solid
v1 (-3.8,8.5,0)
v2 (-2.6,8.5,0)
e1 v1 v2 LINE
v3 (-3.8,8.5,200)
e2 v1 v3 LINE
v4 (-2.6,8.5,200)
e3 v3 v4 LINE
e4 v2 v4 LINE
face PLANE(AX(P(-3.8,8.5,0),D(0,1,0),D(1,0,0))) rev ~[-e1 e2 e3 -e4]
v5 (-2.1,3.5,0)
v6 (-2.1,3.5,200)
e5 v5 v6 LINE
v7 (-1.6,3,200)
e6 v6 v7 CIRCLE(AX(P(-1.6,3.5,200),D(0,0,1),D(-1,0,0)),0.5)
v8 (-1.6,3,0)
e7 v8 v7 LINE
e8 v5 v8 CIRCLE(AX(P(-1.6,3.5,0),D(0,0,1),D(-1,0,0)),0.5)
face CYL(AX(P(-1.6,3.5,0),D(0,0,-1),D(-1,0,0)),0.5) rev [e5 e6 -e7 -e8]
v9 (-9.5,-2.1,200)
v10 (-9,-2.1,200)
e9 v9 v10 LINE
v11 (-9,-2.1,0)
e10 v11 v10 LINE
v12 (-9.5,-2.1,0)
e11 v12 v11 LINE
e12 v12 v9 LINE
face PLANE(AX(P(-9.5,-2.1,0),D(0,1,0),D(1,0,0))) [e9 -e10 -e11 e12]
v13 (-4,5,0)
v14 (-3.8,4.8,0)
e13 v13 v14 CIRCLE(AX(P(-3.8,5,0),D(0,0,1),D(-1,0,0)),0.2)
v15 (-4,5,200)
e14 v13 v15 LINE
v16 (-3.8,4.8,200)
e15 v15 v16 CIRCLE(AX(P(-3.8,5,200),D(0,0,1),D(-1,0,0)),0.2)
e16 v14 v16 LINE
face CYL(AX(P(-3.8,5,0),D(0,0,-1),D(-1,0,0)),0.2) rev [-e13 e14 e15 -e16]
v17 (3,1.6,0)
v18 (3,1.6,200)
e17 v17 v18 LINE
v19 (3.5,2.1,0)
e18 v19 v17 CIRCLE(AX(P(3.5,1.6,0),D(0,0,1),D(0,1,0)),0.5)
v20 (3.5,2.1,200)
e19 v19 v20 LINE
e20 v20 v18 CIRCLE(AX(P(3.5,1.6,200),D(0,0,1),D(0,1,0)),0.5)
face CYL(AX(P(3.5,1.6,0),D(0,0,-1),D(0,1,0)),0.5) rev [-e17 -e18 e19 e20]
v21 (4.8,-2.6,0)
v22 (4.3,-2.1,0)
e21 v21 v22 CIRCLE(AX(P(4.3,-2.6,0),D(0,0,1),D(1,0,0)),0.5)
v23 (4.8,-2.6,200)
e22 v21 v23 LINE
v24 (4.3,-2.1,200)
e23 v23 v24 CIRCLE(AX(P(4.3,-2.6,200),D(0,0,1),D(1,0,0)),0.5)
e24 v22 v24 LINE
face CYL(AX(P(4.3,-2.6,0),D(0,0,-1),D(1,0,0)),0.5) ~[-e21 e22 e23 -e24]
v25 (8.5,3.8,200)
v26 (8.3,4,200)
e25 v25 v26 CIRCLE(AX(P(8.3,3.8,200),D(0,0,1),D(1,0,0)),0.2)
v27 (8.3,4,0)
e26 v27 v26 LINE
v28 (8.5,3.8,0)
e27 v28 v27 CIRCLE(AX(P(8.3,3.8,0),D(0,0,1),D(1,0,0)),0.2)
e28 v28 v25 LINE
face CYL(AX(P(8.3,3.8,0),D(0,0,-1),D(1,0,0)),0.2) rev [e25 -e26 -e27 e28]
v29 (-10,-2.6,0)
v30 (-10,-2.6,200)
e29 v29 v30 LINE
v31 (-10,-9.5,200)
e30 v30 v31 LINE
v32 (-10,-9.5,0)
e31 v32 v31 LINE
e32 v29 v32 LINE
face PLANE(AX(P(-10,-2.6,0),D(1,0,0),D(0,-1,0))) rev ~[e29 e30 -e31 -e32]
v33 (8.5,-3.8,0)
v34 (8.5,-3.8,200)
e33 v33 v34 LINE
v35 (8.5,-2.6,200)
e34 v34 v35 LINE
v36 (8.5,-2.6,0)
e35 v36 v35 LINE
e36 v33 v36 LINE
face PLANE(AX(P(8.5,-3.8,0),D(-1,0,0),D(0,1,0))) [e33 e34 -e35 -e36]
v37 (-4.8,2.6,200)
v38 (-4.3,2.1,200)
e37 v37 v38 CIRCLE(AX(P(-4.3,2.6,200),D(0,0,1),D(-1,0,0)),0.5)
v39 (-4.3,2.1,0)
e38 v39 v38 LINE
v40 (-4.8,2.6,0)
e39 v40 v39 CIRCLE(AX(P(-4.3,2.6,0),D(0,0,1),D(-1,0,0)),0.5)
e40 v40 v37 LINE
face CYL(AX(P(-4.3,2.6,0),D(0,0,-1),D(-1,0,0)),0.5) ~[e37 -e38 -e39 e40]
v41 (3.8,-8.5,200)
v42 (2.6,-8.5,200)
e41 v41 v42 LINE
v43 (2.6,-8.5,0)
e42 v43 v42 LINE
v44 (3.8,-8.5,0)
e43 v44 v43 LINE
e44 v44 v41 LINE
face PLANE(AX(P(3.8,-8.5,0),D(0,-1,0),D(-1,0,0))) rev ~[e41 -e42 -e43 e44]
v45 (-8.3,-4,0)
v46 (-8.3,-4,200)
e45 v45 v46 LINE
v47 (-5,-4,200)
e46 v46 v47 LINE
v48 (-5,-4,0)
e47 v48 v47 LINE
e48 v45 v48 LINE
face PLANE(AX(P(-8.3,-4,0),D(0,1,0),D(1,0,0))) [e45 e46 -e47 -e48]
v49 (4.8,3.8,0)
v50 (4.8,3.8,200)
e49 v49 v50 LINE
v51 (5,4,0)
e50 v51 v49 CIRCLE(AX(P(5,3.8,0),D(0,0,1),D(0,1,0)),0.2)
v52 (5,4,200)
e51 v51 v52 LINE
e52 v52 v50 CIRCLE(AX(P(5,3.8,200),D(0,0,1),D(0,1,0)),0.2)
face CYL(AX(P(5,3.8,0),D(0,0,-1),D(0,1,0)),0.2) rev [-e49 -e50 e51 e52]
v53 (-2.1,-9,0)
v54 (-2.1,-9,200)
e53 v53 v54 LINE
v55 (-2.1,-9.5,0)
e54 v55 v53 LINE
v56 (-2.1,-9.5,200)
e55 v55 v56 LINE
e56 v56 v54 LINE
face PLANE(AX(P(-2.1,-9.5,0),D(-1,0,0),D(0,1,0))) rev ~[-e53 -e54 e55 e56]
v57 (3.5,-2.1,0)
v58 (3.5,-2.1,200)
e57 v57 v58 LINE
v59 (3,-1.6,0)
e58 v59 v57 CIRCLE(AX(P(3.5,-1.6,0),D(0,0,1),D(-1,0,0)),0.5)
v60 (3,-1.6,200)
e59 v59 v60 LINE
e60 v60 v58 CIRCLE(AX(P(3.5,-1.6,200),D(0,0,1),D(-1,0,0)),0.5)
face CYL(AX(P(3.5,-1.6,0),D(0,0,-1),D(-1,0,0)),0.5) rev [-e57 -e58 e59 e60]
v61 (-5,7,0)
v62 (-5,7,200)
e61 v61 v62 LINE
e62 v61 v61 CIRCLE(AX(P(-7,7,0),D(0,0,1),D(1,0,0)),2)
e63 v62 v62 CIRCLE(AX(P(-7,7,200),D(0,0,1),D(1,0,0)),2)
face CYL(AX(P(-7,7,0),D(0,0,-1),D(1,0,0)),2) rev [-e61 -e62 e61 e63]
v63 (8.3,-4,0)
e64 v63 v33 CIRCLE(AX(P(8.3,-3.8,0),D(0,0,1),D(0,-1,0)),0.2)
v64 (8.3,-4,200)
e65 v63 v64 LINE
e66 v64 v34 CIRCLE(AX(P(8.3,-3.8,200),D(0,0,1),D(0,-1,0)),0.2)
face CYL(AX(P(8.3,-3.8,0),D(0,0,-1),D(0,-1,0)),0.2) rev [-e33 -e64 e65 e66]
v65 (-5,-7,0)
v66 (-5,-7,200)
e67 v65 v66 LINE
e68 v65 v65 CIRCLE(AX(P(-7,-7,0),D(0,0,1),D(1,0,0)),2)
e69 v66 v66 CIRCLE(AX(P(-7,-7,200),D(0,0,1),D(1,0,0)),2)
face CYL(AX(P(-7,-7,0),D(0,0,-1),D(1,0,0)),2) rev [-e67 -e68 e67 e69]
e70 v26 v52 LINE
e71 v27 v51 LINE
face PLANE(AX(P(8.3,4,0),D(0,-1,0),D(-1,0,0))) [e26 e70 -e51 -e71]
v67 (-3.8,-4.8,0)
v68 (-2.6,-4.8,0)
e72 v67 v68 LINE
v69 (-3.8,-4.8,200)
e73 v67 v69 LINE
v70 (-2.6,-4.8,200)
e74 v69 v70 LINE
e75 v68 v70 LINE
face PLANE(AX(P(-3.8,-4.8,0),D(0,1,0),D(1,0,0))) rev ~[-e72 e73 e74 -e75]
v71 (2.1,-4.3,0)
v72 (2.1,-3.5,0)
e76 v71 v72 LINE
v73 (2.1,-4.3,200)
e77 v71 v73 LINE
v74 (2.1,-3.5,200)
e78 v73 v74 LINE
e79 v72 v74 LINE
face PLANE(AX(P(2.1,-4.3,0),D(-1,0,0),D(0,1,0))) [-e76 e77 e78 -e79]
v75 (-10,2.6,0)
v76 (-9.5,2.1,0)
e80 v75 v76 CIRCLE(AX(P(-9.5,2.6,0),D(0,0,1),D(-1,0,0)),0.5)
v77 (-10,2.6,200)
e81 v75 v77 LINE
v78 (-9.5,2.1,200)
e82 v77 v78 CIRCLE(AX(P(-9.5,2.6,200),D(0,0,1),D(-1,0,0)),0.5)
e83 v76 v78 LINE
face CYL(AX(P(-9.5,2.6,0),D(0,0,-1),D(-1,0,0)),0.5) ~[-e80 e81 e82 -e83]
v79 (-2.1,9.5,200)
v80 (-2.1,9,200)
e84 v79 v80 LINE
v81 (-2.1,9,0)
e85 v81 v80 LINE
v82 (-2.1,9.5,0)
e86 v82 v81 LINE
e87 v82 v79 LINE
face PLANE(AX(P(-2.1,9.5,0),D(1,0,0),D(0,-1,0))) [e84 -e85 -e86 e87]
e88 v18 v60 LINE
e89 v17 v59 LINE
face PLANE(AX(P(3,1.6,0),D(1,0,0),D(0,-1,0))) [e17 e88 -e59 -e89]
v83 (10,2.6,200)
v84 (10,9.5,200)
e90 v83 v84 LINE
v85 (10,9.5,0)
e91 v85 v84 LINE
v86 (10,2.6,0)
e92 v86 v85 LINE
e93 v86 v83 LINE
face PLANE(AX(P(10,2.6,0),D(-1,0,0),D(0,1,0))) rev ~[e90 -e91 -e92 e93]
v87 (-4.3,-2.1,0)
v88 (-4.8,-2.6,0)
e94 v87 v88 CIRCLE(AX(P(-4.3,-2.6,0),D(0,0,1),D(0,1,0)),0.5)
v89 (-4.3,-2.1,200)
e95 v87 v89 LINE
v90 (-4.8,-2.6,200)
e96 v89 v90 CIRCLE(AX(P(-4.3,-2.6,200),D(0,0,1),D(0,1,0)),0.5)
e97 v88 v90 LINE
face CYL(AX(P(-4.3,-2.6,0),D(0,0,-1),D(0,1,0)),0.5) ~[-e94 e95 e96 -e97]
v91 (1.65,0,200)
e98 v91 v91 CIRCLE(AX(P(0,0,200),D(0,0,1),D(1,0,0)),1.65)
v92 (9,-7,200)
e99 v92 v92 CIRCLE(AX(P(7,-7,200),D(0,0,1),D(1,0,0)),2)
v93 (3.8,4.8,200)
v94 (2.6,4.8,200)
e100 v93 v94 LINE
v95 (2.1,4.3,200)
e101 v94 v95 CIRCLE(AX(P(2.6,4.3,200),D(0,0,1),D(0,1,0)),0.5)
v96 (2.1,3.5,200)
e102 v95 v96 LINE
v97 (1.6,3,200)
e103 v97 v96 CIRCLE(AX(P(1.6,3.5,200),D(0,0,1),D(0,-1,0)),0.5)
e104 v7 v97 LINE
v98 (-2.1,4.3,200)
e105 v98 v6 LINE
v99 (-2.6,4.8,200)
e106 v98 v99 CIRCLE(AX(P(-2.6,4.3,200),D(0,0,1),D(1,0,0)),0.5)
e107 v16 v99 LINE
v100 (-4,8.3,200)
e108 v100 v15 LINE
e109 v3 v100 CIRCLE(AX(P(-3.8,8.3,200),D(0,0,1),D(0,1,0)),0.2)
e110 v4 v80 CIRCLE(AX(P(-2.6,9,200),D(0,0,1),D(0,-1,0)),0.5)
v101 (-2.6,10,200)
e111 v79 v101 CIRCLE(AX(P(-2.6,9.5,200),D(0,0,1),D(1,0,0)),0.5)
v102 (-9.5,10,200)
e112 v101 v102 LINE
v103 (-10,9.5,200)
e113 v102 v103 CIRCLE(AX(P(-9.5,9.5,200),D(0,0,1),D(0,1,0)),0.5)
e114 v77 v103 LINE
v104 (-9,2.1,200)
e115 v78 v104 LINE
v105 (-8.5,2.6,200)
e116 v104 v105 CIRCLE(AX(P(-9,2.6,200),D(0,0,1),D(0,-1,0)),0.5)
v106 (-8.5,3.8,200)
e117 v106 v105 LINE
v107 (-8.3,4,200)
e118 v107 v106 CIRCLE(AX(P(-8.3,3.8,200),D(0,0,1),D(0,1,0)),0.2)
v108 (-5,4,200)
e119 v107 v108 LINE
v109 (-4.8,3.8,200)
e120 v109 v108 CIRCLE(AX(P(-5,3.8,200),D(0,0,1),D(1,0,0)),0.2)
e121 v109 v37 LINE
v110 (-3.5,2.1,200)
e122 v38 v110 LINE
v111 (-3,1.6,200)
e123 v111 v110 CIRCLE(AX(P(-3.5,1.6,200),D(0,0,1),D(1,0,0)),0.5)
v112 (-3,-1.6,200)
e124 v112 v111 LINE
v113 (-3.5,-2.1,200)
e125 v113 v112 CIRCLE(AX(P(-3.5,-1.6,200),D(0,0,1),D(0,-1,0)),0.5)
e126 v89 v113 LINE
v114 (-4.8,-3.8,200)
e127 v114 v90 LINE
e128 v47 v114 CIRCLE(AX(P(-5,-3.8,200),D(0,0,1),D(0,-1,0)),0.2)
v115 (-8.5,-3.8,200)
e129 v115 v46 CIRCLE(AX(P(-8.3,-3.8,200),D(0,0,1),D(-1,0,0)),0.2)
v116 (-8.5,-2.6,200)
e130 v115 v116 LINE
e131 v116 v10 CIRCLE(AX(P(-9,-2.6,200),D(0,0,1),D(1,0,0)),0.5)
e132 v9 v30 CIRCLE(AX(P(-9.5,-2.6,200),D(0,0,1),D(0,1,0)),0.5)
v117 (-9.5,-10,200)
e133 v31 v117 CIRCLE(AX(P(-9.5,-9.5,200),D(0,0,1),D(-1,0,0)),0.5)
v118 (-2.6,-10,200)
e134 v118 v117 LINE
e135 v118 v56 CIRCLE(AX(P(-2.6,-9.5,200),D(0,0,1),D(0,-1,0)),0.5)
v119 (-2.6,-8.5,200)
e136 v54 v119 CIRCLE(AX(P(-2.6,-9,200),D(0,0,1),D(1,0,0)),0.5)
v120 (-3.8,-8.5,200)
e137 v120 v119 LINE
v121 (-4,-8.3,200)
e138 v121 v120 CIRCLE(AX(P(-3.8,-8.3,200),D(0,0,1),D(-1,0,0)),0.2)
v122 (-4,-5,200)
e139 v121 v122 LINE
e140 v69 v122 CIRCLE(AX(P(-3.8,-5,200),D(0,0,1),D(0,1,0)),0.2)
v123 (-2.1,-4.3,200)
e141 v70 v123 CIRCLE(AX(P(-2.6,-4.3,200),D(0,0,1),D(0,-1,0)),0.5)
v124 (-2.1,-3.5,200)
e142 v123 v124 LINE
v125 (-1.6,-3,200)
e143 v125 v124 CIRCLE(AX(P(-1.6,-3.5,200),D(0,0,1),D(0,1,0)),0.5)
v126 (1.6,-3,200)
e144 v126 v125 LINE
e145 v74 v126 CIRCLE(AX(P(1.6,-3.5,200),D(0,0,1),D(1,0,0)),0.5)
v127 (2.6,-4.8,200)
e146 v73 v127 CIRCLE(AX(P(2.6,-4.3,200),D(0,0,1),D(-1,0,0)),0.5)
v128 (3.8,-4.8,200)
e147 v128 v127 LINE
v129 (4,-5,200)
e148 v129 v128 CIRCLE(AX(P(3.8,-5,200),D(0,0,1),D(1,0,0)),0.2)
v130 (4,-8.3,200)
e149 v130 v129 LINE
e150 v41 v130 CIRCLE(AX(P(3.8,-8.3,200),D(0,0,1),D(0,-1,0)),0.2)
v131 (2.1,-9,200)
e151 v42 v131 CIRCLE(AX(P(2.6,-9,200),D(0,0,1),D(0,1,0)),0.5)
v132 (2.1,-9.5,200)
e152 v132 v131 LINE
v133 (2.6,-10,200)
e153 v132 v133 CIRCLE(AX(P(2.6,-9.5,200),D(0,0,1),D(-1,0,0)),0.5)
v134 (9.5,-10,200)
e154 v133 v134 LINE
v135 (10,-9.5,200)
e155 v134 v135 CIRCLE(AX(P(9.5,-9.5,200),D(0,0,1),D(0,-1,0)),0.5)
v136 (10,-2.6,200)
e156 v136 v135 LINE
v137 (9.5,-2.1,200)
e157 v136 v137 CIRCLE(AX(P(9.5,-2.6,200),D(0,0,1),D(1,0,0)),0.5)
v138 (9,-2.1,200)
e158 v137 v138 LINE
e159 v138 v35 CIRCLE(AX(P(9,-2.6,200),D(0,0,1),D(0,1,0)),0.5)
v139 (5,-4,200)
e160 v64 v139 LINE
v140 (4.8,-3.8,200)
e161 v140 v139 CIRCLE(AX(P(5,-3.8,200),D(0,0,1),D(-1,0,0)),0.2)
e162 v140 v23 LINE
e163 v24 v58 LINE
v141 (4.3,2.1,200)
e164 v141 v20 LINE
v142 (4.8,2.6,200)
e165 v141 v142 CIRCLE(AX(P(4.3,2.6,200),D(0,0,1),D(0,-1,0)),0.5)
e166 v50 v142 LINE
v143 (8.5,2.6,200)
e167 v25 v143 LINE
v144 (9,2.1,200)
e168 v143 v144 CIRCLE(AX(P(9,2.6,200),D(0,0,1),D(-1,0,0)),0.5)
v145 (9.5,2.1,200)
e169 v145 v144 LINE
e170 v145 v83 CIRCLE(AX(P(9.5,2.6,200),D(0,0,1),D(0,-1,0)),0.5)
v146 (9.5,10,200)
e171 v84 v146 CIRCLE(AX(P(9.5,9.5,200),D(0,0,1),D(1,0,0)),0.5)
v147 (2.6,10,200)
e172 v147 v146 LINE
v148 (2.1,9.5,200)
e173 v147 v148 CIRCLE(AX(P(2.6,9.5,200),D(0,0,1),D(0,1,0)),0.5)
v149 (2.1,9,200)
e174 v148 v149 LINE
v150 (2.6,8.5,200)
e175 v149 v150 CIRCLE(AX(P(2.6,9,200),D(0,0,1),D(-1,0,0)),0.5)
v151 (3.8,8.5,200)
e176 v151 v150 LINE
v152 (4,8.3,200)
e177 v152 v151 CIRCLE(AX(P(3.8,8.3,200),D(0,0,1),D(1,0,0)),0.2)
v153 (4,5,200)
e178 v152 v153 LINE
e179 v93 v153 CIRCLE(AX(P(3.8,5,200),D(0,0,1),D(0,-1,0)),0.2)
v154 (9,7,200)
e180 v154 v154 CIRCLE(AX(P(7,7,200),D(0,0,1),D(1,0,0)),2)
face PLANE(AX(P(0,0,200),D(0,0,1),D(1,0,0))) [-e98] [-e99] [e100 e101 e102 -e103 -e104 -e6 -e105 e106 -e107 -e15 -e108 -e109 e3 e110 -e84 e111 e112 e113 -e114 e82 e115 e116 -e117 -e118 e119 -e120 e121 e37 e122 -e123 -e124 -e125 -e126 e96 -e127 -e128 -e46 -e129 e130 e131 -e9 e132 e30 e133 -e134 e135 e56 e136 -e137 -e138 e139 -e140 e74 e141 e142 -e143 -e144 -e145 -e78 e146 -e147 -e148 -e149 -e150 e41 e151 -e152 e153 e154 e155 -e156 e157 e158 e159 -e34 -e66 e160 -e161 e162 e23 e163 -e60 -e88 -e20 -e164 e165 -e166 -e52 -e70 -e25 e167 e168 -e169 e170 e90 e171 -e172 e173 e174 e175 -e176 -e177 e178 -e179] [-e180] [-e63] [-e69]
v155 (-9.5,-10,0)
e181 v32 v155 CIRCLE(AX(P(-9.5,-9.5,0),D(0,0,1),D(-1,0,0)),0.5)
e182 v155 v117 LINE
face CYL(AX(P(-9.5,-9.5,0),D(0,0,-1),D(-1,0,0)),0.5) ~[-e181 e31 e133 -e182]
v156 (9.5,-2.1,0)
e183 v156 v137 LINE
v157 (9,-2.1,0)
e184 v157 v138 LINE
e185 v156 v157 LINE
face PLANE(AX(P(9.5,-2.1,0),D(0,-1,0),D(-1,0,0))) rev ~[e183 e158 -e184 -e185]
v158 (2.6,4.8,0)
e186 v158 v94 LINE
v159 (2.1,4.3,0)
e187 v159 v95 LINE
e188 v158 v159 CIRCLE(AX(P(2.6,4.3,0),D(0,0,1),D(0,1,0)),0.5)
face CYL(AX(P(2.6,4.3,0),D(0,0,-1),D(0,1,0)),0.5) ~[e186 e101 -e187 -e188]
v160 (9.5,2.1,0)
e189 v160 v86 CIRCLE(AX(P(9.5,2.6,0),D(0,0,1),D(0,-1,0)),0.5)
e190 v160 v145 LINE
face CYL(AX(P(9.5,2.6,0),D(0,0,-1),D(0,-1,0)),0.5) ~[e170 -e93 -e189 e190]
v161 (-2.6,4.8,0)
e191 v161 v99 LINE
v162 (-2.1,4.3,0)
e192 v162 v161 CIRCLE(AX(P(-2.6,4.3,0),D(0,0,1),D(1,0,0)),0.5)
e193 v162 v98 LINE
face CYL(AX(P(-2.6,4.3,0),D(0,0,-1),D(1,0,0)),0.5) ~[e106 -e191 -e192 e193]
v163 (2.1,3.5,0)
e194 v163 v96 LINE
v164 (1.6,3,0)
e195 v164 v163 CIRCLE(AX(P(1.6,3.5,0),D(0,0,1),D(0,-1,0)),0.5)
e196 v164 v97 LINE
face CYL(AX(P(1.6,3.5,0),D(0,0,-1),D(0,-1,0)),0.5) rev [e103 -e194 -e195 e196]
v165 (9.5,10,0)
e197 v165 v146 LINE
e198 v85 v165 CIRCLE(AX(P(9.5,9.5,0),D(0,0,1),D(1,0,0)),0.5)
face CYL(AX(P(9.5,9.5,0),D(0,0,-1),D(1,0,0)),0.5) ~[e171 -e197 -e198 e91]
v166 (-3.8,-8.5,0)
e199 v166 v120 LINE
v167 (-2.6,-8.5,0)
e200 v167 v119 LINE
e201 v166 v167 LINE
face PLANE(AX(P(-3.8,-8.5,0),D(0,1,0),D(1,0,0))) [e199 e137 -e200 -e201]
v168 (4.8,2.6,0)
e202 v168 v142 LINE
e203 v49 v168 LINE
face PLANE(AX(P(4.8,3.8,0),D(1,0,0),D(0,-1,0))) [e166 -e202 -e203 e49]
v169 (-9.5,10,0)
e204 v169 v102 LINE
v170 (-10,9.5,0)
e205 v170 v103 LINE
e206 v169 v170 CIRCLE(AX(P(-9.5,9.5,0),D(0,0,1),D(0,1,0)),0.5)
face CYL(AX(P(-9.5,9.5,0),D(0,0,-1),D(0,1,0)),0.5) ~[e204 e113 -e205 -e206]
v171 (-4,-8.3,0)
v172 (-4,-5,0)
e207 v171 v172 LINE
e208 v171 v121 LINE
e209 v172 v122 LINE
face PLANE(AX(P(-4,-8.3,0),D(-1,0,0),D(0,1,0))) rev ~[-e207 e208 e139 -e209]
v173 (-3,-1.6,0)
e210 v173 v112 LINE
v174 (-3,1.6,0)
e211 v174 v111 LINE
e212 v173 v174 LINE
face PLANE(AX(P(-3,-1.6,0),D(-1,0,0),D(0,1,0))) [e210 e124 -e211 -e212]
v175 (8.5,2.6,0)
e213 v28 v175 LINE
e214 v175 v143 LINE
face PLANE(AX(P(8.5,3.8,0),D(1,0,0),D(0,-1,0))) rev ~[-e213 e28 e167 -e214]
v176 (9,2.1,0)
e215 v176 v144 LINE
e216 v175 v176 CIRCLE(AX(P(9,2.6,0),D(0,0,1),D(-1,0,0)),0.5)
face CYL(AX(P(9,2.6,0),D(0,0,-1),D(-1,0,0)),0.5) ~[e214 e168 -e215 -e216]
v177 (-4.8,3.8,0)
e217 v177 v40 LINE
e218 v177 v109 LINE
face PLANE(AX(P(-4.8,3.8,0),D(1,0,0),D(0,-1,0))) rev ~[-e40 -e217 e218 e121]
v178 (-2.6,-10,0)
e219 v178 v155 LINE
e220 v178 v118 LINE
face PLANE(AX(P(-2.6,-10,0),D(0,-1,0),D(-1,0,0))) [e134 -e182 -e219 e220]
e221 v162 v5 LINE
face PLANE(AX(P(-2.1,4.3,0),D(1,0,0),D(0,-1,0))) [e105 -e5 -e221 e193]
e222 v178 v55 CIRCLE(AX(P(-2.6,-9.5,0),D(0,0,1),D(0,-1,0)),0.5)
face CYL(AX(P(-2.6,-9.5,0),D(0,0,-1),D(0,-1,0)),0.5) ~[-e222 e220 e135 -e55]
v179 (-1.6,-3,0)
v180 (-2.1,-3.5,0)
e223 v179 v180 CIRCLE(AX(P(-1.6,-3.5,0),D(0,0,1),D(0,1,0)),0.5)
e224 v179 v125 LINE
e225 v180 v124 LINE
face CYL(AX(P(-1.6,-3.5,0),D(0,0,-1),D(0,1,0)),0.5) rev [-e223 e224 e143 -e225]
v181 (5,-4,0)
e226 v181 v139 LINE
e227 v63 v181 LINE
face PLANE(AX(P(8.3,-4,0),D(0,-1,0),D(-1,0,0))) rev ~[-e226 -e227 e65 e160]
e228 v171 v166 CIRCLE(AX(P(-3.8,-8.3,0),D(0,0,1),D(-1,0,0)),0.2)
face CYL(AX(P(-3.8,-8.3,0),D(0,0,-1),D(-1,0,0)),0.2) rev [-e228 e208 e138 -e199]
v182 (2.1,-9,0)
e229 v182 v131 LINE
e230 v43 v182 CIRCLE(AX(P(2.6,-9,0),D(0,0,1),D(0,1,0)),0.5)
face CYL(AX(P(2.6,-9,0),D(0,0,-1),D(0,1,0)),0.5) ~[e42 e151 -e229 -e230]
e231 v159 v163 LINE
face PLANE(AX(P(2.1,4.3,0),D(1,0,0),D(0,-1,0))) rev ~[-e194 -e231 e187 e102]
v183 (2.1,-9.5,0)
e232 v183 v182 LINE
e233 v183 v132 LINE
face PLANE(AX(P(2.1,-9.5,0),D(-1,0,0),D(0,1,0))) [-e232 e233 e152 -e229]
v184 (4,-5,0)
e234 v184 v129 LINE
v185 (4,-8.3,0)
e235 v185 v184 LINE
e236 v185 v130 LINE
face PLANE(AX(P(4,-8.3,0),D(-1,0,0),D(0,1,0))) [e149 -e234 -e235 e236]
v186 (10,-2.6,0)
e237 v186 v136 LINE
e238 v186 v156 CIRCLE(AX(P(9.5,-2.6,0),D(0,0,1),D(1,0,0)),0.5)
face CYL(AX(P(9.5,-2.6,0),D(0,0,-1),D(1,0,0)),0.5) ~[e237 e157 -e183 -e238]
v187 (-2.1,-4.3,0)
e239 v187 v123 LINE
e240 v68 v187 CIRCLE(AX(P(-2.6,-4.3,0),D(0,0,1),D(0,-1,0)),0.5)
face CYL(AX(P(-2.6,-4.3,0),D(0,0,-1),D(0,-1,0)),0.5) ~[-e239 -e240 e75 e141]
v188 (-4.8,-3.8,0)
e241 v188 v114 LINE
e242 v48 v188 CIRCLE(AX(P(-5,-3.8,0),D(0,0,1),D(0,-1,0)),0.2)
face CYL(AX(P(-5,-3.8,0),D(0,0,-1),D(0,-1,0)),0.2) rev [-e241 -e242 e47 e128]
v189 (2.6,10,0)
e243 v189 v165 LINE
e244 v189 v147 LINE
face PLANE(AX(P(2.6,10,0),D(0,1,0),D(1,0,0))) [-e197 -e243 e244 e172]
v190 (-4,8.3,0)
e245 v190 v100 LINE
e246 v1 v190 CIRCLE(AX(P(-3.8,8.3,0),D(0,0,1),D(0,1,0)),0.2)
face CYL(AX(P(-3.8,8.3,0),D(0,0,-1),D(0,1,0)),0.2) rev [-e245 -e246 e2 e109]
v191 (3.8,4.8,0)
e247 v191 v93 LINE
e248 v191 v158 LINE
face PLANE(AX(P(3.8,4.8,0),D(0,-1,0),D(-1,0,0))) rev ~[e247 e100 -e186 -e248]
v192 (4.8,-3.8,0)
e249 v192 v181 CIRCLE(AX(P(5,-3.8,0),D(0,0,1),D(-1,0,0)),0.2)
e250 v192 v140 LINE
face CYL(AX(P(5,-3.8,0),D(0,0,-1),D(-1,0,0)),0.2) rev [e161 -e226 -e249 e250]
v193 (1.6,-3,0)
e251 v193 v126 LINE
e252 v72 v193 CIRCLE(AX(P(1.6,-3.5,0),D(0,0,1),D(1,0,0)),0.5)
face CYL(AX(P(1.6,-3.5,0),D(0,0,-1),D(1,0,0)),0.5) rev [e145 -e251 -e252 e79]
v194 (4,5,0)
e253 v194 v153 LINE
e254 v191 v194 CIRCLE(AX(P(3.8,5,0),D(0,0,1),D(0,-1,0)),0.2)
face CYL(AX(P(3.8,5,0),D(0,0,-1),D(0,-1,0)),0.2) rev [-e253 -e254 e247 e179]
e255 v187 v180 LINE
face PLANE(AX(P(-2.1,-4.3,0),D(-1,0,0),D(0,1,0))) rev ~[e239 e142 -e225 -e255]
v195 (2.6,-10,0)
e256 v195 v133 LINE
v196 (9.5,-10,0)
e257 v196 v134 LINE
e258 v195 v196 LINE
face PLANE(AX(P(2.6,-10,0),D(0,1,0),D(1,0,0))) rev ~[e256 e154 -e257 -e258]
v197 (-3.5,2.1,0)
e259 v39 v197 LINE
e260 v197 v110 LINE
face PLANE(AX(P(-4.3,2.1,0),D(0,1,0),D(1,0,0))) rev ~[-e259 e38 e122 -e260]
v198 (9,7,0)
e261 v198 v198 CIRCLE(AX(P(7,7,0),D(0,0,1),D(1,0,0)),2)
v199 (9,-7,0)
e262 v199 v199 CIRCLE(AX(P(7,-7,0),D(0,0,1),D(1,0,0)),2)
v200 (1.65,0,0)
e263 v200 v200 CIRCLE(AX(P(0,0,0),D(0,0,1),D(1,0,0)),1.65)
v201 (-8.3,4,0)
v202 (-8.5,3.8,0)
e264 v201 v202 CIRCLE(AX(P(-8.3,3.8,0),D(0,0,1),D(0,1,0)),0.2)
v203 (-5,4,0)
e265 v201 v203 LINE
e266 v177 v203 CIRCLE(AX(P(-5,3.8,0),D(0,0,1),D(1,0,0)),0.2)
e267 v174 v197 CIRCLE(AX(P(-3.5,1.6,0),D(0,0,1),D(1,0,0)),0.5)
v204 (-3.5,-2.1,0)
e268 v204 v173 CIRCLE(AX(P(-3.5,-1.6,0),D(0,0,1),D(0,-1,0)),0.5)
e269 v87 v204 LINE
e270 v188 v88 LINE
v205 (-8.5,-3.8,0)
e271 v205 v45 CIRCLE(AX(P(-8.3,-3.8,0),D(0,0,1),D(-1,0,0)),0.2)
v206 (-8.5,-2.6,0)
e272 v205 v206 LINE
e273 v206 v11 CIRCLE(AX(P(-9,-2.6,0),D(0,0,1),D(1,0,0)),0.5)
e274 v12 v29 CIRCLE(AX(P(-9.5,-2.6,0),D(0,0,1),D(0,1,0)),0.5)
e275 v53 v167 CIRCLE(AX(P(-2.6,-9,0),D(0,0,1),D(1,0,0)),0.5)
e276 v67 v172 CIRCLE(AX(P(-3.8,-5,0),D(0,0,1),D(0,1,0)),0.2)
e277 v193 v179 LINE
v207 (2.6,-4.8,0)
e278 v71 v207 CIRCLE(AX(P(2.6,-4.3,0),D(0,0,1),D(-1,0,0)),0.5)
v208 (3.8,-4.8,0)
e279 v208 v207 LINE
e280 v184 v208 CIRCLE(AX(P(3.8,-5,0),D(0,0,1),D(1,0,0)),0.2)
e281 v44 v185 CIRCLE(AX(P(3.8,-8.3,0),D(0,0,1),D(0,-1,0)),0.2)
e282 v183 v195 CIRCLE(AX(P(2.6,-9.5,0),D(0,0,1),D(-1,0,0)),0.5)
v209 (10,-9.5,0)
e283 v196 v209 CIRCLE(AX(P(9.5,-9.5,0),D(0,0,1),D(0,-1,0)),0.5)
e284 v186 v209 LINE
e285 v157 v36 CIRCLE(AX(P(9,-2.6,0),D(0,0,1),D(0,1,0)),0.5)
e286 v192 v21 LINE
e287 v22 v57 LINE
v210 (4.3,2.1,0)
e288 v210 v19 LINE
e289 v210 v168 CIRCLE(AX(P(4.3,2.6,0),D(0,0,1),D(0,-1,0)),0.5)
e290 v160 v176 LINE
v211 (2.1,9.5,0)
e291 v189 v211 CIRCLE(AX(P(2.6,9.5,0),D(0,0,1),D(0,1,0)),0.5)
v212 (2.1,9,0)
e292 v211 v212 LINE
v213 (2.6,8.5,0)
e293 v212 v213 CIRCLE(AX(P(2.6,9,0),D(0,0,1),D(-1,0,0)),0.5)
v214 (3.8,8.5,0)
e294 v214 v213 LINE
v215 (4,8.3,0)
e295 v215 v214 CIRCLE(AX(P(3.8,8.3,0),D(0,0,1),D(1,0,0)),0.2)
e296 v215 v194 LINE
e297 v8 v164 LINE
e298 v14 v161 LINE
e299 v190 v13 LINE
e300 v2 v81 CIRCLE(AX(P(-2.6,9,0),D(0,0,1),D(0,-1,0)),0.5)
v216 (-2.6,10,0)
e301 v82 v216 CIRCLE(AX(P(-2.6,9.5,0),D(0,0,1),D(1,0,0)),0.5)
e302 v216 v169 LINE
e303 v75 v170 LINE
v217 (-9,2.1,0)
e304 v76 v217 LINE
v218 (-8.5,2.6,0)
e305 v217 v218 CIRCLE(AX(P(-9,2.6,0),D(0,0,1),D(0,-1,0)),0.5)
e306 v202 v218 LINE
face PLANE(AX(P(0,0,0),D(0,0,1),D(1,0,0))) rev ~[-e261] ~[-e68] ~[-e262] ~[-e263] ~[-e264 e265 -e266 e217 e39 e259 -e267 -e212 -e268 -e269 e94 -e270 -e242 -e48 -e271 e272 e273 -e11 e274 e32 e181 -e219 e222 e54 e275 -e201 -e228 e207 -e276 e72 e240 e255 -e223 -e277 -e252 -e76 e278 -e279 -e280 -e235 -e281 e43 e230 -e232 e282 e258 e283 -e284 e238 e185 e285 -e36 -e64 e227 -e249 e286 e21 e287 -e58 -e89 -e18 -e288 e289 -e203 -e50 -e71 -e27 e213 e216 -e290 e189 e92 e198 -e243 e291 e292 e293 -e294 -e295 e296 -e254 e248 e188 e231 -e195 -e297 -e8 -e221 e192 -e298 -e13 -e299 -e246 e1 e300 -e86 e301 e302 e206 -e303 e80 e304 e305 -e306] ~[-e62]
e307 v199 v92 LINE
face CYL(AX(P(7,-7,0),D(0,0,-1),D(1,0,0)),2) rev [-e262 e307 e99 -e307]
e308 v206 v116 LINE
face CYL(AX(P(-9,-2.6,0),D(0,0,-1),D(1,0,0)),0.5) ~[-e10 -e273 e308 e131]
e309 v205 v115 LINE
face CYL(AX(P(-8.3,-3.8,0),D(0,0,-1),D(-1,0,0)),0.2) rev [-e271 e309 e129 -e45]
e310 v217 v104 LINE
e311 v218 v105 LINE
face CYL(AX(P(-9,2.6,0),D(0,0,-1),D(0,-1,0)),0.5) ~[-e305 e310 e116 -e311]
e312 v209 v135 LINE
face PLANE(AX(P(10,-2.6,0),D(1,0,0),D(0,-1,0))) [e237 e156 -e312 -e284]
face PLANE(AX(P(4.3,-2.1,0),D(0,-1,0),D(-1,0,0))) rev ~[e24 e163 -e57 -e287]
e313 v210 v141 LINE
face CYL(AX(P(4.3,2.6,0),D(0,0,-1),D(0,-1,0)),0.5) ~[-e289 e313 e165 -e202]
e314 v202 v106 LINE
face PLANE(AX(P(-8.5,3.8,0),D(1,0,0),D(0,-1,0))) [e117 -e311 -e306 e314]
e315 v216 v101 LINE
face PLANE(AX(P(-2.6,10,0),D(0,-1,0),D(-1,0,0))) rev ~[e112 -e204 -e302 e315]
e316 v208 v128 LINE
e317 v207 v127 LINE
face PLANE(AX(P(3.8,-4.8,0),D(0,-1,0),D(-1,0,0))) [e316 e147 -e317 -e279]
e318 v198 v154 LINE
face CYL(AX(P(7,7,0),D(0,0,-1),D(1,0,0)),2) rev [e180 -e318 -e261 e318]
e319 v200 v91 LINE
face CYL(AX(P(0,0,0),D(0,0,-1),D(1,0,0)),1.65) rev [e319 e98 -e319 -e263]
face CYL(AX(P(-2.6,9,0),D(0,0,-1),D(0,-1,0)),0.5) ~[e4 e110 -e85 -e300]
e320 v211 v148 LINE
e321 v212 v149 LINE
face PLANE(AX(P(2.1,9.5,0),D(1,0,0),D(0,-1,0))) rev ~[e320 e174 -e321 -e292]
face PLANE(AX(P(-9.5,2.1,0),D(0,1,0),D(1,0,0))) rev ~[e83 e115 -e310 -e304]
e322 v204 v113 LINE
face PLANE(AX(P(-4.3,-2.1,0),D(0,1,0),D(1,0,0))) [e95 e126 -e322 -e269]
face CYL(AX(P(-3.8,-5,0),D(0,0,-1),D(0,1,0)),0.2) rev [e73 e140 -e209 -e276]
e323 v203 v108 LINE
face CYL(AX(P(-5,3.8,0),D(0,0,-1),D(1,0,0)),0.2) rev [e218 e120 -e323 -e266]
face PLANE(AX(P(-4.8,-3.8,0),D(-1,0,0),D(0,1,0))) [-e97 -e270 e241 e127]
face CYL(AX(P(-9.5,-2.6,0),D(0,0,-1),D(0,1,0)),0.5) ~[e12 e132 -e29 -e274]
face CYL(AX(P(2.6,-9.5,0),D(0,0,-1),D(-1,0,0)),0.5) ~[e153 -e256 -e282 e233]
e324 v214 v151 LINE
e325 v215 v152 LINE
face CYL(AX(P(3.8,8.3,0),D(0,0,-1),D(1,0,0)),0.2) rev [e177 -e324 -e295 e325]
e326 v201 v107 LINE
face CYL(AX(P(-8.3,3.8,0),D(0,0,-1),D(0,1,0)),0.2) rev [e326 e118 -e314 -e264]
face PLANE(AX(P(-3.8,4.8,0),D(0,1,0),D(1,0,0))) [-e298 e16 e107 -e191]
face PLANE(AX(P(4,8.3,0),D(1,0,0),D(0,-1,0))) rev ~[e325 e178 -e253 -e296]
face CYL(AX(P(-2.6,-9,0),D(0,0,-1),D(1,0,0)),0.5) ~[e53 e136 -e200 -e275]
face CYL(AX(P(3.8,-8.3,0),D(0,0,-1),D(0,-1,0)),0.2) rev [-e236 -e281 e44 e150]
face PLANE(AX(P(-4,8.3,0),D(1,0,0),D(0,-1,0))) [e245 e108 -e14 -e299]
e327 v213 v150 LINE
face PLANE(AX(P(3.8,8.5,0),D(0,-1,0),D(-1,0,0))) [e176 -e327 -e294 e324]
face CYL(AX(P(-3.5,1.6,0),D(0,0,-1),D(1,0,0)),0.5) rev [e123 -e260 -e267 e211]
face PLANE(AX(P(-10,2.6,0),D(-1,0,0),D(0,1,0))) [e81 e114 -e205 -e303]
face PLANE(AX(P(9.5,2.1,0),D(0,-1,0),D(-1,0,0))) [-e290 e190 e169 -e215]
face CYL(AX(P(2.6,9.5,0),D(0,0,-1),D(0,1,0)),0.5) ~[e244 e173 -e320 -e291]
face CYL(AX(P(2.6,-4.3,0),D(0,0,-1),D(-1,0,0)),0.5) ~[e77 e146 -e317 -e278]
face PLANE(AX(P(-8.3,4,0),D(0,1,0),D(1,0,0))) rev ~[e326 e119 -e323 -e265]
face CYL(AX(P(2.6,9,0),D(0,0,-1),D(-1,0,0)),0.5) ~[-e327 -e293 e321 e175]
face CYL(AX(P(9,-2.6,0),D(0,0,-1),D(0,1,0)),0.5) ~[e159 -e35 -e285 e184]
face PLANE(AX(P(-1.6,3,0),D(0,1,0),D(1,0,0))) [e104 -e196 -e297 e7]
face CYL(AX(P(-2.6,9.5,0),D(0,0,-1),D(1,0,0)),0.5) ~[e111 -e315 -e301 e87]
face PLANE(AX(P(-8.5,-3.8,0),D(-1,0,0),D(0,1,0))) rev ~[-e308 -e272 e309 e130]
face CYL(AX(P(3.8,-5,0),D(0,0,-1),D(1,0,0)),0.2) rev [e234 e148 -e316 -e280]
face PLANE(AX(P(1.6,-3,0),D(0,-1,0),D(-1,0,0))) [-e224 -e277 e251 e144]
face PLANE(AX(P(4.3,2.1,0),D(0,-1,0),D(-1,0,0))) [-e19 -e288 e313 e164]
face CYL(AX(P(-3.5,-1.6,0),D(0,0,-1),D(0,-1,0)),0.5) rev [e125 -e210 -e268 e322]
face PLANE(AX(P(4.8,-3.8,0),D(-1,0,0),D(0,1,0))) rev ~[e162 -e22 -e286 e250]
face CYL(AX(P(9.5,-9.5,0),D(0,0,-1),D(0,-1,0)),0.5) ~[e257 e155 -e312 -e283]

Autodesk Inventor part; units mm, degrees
ref_plane "YZ Plane" through (0, 0, 0) normal (1, 0, 0) x (0, 1, 0)
ref_plane "XZ Plane" through (0, 0, 0) normal (0, 1, 0) x (-1, 0, 0)
ref_plane "XY Plane" through (0, 0, 0) normal (0, 0, 1) x (1, 0, 0)
sketch "BaseS" plane through (0, 0, 0) normal (0, 0, 1) x (1, 0, 0)
  line L0 (8.5, -3.8) -> (8.5, -2.6)
  line L1 (4, -8.3) -> (4, -5)
  circle A0 centre (7, -7) radius 2
  line L2 (10, -2.6) -> (10, -9.5)
  line L3 (2.6, -10) -> (9.5, -10)
  line L4 (2.1, -9.5) -> (2.1, -9)
  line L5 (8.5, -2.6) -> (8.5, -3.8)
  line L6 (3.8, -4.8) -> (2.6, -4.8)
  line L7 (4.8, -3.8) -> (4.8, -2.6)
  arc A1 (2.1, -4.3) -> (2.6, -4.8) centre (2.6, -4.3) ccw
  arc A2 (2.6, -8.5) -> (2.1, -9) centre (2.6, -9) ccw
  arc A3 (3.8, -8.5) -> (4, -8.3) centre (3.8, -8.3) ccw
  arc A4 (4, -5) -> (3.8, -4.8) centre (3.8, -5) ccw
  arc A5 (2.1, -3.5) -> (1.6, -3) centre (1.6, -3.5) ccw
  arc A6 (2.1, -9.5) -> (2.6, -10) centre (2.6, -9.5) ccw
  arc A7 (9.5, -10) -> (10, -9.5) centre (9.5, -9.5) ccw
  arc A8 (10, -2.6) -> (9.5, -2.1) centre (9.5, -2.6) ccw
  arc A9 (9, -2.1) -> (8.5, -2.6) centre (9, -2.6) ccw
  arc A10 (8.3, -4) -> (8.5, -3.8) centre (8.3, -3.8) ccw
  arc A11 (4.8, -3.8) -> (5, -4) centre (5, -3.8) ccw
  line L8 (4.3, -2.1) -> (3.5, -2.1)
  arc A12 (4.8, -2.6) -> (4.3, -2.1) centre (4.3, -2.6) ccw
  arc A13 (3, -1.6) -> (3.5, -2.1) centre (3.5, -1.6) ccw
  line L9 (2.1, -4.3) -> (2.1, -3.5)
  line L10 (3.8, -8.5) -> (2.6, -8.5)
  line L11 (9.5, -2.1) -> (9, -2.1)
  line L12 (8.3, -4) -> (5, -4)
  circle A14 centre (0, 0) radius 1.65
  arc A15 (8.5, 2.6) -> (9, 2.1) centre (9, 2.6) ccw
  line L13 (8.5, 3.8) -> (8.5, 2.6)
  arc A16 (8.5, 3.8) -> (8.3, 4) centre (8.3, 3.8) ccw
  line L14 (8.3, 4) -> (5, 4)
  line L15 (10, 2.6) -> (10, 9.5)
  arc A17 (10, 9.5) -> (9.5, 10) centre (9.5, 9.5) ccw
  circle A18 centre (7, 7) radius 2
  line L16 (4, 8.3) -> (4, 5)
  line L17 (2.6, 10) -> (9.5, 10)
  line L18 (9.5, 2.1) -> (9, 2.1)
  arc A19 (9.5, 2.1) -> (10, 2.6) centre (9.5, 2.6) ccw
  line L19 (3.8, 8.5) -> (2.6, 8.5)
  line L20 (4.8, 3.8) -> (4.8, 2.6)
  arc A20 (4.3, 2.1) -> (4.8, 2.6) centre (4.3, 2.6) ccw
  line L21 (2.6, 8.5) -> (3.8, 8.5)
  arc A21 (4, 8.3) -> (3.8, 8.5) centre (3.8, 8.3) ccw
  arc A22 (2.1, 9) -> (2.6, 8.5) centre (2.6, 9) ccw
  arc A23 (2.6, 10) -> (2.1, 9.5) centre (2.6, 9.5) ccw
  line L22 (2.1, 9.5) -> (2.1, 9)
  arc A24 (1.6, 3) -> (2.1, 3.5) centre (1.6, 3.5) ccw
  line L23 (3.8, 4.8) -> (2.6, 4.8)
  arc A25 (5, 4) -> (4.8, 3.8) centre (5, 3.8) ccw
  arc A26 (3.8, 4.8) -> (4, 5) centre (3.8, 5) ccw
  line L24 (4.3, 2.1) -> (3.5, 2.1)
  arc A27 (2.6, 4.8) -> (2.1, 4.3) centre (2.6, 4.3) ccw
  line L25 (2.1, 4.3) -> (2.1, 3.5)
  arc A28 (3.5, 2.1) -> (3, 1.6) centre (3.5, 1.6) ccw
  arc A29 (-2.6, 8.5) -> (-2.1, 9) centre (-2.6, 9) ccw
  line L26 (-3.8, 8.5) -> (-2.6, 8.5)
  arc A30 (-3.8, 8.5) -> (-4, 8.3) centre (-3.8, 8.3) ccw
  line L27 (-4, 8.3) -> (-4, 5)
  line L28 (-2.6, 10) -> (-9.5, 10)
  arc A31 (-9.5, 10) -> (-10, 9.5) centre (-9.5, 9.5) ccw
  circle A32 centre (-7, 7) radius 2
  line L29 (-8.3, 4) -> (-5, 4)
  line L30 (-10, 2.6) -> (-10, 9.5)
  line L31 (-2.1, 9.5) -> (-2.1, 9)
  arc A33 (-2.1, 9.5) -> (-2.6, 10) centre (-2.6, 9.5) ccw
  line L32 (-8.5, 3.8) -> (-8.5, 2.6)
  line L33 (-3.8, 4.8) -> (-2.6, 4.8)
  arc A34 (-2.1, 4.3) -> (-2.6, 4.8) centre (-2.6, 4.3) ccw
  line L34 (-8.5, 2.6) -> (-8.5, 3.8)
  arc A35 (-8.3, 4) -> (-8.5, 3.8) centre (-8.3, 3.8) ccw
  arc A36 (-9, 2.1) -> (-8.5, 2.6) centre (-9, 2.6) ccw
  arc A37 (-10, 2.6) -> (-9.5, 2.1) centre (-9.5, 2.6) ccw
  line L35 (-9.5, 2.1) -> (-9, 2.1)
  arc A38 (-3, 1.6) -> (-3.5, 2.1) centre (-3.5, 1.6) ccw
  line L36 (-4.8, 3.8) -> (-4.8, 2.6)
  arc A39 (-4, 5) -> (-3.8, 4.8) centre (-3.8, 5) ccw
  arc A40 (-4.8, 3.8) -> (-5, 4) centre (-5, 3.8) ccw
  line L37 (-2.1, 4.3) -> (-2.1, 3.5)
  arc A41 (-4.8, 2.6) -> (-4.3, 2.1) centre (-4.3, 2.6) ccw
  line L38 (-4.3, 2.1) -> (-3.5, 2.1)
  arc A42 (-2.1, 3.5) -> (-1.6, 3) centre (-1.6, 3.5) ccw
  arc A43 (-8.5, -2.6) -> (-9, -2.1) centre (-9, -2.6) ccw
  line L39 (-8.5, -3.8) -> (-8.5, -2.6)
  arc A44 (-8.5, -3.8) -> (-8.3, -4) centre (-8.3, -3.8) ccw
  line L40 (-8.3, -4) -> (-5, -4)
  line L41 (-10, -2.6) -> (-10, -9.5)
  arc A45 (-10, -9.5) -> (-9.5, -10) centre (-9.5, -9.5) ccw
  circle A46 centre (-7, -7) radius 2
  line L42 (-4, -8.3) -> (-4, -5)
  line L43 (-2.6, -10) -> (-9.5, -10)
  line L44 (-9.5, -2.1) -> (-9, -2.1)
  arc A47 (-9.5, -2.1) -> (-10, -2.6) centre (-9.5, -2.6) ccw
  line L45 (-3.8, -8.5) -> (-2.6, -8.5)
  line L46 (-4.8, -3.8) -> (-4.8, -2.6)
  arc A48 (-4.3, -2.1) -> (-4.8, -2.6) centre (-4.3, -2.6) ccw
  line L47 (-2.6, -8.5) -> (-3.8, -8.5)
  arc A49 (-4, -8.3) -> (-3.8, -8.5) centre (-3.8, -8.3) ccw
  arc A50 (-2.1, -9) -> (-2.6, -8.5) centre (-2.6, -9) ccw
  arc A51 (-2.6, -10) -> (-2.1, -9.5) centre (-2.6, -9.5) ccw
  line L48 (-2.1, -9.5) -> (-2.1, -9)
  arc A52 (-1.6, -3) -> (-2.1, -3.5) centre (-1.6, -3.5) ccw
  line L49 (-3.8, -4.8) -> (-2.6, -4.8)
  arc A53 (-5, -4) -> (-4.8, -3.8) centre (-5, -3.8) ccw
  arc A54 (-3.8, -4.8) -> (-4, -5) centre (-3.8, -5) ccw
  line L50 (-4.3, -2.1) -> (-3.5, -2.1)
  arc A55 (-2.6, -4.8) -> (-2.1, -4.3) centre (-2.6, -4.3) ccw
  line L51 (-2.1, -4.3) -> (-2.1, -3.5)
  arc A56 (-3.5, -2.1) -> (-3, -1.6) centre (-3.5, -1.6) ccw
  line L52 (1.6, -3) -> (-1.6, -3)
  line L53 (-3, -1.6) -> (-3, 1.6)
  line L54 (-1.6, 3) -> (1.6, 3)
  line L55 (3, 1.6) -> (3, -1.6)
  point P0 (2.1, -10)
  point P1 (10, 2.1)
  point P2 (-2.1, 10)
  point P3 (-10, -2.1)
  dimension "d2" = 4
  dimension "d3" = 3.7
  dimension "d4" = 0.5
  dimension "d5" = 0.5
  dimension "d6" = 0.2
  dimension "d7" = 0.5
  dimension "d8" = 0.5
  dimension "d9" = 0.5
  dimension "d10" = 0.2
  dimension "d11" = 0.5
  dimension "d12" = 1.5
  dimension "d13" = 3.7
  dimension "d14" = 1.5
  dimension "d15" = 3.3
  dimension "d16" = 10
  dimension "d17" = 2.1
  dimension "d18" = 2.1
  dimension "d19" = 1.9
  dimension "d20" = 7
  dimension "d21" = 2.1
  dimension "d22" = 2.1
  dimension "d23" = 1.9
  dimension "d24" = 7
  dimension "d25" = 10
  dimension "d26" = 360
  dimension "d27" = 3
extrude "押し出し1" add sketch "BaseS" along normal blind 200
equation "\"d28\" = L"
equation "\"L\" = 200"
properties part number "S200" material "アルミニウム 6061"
